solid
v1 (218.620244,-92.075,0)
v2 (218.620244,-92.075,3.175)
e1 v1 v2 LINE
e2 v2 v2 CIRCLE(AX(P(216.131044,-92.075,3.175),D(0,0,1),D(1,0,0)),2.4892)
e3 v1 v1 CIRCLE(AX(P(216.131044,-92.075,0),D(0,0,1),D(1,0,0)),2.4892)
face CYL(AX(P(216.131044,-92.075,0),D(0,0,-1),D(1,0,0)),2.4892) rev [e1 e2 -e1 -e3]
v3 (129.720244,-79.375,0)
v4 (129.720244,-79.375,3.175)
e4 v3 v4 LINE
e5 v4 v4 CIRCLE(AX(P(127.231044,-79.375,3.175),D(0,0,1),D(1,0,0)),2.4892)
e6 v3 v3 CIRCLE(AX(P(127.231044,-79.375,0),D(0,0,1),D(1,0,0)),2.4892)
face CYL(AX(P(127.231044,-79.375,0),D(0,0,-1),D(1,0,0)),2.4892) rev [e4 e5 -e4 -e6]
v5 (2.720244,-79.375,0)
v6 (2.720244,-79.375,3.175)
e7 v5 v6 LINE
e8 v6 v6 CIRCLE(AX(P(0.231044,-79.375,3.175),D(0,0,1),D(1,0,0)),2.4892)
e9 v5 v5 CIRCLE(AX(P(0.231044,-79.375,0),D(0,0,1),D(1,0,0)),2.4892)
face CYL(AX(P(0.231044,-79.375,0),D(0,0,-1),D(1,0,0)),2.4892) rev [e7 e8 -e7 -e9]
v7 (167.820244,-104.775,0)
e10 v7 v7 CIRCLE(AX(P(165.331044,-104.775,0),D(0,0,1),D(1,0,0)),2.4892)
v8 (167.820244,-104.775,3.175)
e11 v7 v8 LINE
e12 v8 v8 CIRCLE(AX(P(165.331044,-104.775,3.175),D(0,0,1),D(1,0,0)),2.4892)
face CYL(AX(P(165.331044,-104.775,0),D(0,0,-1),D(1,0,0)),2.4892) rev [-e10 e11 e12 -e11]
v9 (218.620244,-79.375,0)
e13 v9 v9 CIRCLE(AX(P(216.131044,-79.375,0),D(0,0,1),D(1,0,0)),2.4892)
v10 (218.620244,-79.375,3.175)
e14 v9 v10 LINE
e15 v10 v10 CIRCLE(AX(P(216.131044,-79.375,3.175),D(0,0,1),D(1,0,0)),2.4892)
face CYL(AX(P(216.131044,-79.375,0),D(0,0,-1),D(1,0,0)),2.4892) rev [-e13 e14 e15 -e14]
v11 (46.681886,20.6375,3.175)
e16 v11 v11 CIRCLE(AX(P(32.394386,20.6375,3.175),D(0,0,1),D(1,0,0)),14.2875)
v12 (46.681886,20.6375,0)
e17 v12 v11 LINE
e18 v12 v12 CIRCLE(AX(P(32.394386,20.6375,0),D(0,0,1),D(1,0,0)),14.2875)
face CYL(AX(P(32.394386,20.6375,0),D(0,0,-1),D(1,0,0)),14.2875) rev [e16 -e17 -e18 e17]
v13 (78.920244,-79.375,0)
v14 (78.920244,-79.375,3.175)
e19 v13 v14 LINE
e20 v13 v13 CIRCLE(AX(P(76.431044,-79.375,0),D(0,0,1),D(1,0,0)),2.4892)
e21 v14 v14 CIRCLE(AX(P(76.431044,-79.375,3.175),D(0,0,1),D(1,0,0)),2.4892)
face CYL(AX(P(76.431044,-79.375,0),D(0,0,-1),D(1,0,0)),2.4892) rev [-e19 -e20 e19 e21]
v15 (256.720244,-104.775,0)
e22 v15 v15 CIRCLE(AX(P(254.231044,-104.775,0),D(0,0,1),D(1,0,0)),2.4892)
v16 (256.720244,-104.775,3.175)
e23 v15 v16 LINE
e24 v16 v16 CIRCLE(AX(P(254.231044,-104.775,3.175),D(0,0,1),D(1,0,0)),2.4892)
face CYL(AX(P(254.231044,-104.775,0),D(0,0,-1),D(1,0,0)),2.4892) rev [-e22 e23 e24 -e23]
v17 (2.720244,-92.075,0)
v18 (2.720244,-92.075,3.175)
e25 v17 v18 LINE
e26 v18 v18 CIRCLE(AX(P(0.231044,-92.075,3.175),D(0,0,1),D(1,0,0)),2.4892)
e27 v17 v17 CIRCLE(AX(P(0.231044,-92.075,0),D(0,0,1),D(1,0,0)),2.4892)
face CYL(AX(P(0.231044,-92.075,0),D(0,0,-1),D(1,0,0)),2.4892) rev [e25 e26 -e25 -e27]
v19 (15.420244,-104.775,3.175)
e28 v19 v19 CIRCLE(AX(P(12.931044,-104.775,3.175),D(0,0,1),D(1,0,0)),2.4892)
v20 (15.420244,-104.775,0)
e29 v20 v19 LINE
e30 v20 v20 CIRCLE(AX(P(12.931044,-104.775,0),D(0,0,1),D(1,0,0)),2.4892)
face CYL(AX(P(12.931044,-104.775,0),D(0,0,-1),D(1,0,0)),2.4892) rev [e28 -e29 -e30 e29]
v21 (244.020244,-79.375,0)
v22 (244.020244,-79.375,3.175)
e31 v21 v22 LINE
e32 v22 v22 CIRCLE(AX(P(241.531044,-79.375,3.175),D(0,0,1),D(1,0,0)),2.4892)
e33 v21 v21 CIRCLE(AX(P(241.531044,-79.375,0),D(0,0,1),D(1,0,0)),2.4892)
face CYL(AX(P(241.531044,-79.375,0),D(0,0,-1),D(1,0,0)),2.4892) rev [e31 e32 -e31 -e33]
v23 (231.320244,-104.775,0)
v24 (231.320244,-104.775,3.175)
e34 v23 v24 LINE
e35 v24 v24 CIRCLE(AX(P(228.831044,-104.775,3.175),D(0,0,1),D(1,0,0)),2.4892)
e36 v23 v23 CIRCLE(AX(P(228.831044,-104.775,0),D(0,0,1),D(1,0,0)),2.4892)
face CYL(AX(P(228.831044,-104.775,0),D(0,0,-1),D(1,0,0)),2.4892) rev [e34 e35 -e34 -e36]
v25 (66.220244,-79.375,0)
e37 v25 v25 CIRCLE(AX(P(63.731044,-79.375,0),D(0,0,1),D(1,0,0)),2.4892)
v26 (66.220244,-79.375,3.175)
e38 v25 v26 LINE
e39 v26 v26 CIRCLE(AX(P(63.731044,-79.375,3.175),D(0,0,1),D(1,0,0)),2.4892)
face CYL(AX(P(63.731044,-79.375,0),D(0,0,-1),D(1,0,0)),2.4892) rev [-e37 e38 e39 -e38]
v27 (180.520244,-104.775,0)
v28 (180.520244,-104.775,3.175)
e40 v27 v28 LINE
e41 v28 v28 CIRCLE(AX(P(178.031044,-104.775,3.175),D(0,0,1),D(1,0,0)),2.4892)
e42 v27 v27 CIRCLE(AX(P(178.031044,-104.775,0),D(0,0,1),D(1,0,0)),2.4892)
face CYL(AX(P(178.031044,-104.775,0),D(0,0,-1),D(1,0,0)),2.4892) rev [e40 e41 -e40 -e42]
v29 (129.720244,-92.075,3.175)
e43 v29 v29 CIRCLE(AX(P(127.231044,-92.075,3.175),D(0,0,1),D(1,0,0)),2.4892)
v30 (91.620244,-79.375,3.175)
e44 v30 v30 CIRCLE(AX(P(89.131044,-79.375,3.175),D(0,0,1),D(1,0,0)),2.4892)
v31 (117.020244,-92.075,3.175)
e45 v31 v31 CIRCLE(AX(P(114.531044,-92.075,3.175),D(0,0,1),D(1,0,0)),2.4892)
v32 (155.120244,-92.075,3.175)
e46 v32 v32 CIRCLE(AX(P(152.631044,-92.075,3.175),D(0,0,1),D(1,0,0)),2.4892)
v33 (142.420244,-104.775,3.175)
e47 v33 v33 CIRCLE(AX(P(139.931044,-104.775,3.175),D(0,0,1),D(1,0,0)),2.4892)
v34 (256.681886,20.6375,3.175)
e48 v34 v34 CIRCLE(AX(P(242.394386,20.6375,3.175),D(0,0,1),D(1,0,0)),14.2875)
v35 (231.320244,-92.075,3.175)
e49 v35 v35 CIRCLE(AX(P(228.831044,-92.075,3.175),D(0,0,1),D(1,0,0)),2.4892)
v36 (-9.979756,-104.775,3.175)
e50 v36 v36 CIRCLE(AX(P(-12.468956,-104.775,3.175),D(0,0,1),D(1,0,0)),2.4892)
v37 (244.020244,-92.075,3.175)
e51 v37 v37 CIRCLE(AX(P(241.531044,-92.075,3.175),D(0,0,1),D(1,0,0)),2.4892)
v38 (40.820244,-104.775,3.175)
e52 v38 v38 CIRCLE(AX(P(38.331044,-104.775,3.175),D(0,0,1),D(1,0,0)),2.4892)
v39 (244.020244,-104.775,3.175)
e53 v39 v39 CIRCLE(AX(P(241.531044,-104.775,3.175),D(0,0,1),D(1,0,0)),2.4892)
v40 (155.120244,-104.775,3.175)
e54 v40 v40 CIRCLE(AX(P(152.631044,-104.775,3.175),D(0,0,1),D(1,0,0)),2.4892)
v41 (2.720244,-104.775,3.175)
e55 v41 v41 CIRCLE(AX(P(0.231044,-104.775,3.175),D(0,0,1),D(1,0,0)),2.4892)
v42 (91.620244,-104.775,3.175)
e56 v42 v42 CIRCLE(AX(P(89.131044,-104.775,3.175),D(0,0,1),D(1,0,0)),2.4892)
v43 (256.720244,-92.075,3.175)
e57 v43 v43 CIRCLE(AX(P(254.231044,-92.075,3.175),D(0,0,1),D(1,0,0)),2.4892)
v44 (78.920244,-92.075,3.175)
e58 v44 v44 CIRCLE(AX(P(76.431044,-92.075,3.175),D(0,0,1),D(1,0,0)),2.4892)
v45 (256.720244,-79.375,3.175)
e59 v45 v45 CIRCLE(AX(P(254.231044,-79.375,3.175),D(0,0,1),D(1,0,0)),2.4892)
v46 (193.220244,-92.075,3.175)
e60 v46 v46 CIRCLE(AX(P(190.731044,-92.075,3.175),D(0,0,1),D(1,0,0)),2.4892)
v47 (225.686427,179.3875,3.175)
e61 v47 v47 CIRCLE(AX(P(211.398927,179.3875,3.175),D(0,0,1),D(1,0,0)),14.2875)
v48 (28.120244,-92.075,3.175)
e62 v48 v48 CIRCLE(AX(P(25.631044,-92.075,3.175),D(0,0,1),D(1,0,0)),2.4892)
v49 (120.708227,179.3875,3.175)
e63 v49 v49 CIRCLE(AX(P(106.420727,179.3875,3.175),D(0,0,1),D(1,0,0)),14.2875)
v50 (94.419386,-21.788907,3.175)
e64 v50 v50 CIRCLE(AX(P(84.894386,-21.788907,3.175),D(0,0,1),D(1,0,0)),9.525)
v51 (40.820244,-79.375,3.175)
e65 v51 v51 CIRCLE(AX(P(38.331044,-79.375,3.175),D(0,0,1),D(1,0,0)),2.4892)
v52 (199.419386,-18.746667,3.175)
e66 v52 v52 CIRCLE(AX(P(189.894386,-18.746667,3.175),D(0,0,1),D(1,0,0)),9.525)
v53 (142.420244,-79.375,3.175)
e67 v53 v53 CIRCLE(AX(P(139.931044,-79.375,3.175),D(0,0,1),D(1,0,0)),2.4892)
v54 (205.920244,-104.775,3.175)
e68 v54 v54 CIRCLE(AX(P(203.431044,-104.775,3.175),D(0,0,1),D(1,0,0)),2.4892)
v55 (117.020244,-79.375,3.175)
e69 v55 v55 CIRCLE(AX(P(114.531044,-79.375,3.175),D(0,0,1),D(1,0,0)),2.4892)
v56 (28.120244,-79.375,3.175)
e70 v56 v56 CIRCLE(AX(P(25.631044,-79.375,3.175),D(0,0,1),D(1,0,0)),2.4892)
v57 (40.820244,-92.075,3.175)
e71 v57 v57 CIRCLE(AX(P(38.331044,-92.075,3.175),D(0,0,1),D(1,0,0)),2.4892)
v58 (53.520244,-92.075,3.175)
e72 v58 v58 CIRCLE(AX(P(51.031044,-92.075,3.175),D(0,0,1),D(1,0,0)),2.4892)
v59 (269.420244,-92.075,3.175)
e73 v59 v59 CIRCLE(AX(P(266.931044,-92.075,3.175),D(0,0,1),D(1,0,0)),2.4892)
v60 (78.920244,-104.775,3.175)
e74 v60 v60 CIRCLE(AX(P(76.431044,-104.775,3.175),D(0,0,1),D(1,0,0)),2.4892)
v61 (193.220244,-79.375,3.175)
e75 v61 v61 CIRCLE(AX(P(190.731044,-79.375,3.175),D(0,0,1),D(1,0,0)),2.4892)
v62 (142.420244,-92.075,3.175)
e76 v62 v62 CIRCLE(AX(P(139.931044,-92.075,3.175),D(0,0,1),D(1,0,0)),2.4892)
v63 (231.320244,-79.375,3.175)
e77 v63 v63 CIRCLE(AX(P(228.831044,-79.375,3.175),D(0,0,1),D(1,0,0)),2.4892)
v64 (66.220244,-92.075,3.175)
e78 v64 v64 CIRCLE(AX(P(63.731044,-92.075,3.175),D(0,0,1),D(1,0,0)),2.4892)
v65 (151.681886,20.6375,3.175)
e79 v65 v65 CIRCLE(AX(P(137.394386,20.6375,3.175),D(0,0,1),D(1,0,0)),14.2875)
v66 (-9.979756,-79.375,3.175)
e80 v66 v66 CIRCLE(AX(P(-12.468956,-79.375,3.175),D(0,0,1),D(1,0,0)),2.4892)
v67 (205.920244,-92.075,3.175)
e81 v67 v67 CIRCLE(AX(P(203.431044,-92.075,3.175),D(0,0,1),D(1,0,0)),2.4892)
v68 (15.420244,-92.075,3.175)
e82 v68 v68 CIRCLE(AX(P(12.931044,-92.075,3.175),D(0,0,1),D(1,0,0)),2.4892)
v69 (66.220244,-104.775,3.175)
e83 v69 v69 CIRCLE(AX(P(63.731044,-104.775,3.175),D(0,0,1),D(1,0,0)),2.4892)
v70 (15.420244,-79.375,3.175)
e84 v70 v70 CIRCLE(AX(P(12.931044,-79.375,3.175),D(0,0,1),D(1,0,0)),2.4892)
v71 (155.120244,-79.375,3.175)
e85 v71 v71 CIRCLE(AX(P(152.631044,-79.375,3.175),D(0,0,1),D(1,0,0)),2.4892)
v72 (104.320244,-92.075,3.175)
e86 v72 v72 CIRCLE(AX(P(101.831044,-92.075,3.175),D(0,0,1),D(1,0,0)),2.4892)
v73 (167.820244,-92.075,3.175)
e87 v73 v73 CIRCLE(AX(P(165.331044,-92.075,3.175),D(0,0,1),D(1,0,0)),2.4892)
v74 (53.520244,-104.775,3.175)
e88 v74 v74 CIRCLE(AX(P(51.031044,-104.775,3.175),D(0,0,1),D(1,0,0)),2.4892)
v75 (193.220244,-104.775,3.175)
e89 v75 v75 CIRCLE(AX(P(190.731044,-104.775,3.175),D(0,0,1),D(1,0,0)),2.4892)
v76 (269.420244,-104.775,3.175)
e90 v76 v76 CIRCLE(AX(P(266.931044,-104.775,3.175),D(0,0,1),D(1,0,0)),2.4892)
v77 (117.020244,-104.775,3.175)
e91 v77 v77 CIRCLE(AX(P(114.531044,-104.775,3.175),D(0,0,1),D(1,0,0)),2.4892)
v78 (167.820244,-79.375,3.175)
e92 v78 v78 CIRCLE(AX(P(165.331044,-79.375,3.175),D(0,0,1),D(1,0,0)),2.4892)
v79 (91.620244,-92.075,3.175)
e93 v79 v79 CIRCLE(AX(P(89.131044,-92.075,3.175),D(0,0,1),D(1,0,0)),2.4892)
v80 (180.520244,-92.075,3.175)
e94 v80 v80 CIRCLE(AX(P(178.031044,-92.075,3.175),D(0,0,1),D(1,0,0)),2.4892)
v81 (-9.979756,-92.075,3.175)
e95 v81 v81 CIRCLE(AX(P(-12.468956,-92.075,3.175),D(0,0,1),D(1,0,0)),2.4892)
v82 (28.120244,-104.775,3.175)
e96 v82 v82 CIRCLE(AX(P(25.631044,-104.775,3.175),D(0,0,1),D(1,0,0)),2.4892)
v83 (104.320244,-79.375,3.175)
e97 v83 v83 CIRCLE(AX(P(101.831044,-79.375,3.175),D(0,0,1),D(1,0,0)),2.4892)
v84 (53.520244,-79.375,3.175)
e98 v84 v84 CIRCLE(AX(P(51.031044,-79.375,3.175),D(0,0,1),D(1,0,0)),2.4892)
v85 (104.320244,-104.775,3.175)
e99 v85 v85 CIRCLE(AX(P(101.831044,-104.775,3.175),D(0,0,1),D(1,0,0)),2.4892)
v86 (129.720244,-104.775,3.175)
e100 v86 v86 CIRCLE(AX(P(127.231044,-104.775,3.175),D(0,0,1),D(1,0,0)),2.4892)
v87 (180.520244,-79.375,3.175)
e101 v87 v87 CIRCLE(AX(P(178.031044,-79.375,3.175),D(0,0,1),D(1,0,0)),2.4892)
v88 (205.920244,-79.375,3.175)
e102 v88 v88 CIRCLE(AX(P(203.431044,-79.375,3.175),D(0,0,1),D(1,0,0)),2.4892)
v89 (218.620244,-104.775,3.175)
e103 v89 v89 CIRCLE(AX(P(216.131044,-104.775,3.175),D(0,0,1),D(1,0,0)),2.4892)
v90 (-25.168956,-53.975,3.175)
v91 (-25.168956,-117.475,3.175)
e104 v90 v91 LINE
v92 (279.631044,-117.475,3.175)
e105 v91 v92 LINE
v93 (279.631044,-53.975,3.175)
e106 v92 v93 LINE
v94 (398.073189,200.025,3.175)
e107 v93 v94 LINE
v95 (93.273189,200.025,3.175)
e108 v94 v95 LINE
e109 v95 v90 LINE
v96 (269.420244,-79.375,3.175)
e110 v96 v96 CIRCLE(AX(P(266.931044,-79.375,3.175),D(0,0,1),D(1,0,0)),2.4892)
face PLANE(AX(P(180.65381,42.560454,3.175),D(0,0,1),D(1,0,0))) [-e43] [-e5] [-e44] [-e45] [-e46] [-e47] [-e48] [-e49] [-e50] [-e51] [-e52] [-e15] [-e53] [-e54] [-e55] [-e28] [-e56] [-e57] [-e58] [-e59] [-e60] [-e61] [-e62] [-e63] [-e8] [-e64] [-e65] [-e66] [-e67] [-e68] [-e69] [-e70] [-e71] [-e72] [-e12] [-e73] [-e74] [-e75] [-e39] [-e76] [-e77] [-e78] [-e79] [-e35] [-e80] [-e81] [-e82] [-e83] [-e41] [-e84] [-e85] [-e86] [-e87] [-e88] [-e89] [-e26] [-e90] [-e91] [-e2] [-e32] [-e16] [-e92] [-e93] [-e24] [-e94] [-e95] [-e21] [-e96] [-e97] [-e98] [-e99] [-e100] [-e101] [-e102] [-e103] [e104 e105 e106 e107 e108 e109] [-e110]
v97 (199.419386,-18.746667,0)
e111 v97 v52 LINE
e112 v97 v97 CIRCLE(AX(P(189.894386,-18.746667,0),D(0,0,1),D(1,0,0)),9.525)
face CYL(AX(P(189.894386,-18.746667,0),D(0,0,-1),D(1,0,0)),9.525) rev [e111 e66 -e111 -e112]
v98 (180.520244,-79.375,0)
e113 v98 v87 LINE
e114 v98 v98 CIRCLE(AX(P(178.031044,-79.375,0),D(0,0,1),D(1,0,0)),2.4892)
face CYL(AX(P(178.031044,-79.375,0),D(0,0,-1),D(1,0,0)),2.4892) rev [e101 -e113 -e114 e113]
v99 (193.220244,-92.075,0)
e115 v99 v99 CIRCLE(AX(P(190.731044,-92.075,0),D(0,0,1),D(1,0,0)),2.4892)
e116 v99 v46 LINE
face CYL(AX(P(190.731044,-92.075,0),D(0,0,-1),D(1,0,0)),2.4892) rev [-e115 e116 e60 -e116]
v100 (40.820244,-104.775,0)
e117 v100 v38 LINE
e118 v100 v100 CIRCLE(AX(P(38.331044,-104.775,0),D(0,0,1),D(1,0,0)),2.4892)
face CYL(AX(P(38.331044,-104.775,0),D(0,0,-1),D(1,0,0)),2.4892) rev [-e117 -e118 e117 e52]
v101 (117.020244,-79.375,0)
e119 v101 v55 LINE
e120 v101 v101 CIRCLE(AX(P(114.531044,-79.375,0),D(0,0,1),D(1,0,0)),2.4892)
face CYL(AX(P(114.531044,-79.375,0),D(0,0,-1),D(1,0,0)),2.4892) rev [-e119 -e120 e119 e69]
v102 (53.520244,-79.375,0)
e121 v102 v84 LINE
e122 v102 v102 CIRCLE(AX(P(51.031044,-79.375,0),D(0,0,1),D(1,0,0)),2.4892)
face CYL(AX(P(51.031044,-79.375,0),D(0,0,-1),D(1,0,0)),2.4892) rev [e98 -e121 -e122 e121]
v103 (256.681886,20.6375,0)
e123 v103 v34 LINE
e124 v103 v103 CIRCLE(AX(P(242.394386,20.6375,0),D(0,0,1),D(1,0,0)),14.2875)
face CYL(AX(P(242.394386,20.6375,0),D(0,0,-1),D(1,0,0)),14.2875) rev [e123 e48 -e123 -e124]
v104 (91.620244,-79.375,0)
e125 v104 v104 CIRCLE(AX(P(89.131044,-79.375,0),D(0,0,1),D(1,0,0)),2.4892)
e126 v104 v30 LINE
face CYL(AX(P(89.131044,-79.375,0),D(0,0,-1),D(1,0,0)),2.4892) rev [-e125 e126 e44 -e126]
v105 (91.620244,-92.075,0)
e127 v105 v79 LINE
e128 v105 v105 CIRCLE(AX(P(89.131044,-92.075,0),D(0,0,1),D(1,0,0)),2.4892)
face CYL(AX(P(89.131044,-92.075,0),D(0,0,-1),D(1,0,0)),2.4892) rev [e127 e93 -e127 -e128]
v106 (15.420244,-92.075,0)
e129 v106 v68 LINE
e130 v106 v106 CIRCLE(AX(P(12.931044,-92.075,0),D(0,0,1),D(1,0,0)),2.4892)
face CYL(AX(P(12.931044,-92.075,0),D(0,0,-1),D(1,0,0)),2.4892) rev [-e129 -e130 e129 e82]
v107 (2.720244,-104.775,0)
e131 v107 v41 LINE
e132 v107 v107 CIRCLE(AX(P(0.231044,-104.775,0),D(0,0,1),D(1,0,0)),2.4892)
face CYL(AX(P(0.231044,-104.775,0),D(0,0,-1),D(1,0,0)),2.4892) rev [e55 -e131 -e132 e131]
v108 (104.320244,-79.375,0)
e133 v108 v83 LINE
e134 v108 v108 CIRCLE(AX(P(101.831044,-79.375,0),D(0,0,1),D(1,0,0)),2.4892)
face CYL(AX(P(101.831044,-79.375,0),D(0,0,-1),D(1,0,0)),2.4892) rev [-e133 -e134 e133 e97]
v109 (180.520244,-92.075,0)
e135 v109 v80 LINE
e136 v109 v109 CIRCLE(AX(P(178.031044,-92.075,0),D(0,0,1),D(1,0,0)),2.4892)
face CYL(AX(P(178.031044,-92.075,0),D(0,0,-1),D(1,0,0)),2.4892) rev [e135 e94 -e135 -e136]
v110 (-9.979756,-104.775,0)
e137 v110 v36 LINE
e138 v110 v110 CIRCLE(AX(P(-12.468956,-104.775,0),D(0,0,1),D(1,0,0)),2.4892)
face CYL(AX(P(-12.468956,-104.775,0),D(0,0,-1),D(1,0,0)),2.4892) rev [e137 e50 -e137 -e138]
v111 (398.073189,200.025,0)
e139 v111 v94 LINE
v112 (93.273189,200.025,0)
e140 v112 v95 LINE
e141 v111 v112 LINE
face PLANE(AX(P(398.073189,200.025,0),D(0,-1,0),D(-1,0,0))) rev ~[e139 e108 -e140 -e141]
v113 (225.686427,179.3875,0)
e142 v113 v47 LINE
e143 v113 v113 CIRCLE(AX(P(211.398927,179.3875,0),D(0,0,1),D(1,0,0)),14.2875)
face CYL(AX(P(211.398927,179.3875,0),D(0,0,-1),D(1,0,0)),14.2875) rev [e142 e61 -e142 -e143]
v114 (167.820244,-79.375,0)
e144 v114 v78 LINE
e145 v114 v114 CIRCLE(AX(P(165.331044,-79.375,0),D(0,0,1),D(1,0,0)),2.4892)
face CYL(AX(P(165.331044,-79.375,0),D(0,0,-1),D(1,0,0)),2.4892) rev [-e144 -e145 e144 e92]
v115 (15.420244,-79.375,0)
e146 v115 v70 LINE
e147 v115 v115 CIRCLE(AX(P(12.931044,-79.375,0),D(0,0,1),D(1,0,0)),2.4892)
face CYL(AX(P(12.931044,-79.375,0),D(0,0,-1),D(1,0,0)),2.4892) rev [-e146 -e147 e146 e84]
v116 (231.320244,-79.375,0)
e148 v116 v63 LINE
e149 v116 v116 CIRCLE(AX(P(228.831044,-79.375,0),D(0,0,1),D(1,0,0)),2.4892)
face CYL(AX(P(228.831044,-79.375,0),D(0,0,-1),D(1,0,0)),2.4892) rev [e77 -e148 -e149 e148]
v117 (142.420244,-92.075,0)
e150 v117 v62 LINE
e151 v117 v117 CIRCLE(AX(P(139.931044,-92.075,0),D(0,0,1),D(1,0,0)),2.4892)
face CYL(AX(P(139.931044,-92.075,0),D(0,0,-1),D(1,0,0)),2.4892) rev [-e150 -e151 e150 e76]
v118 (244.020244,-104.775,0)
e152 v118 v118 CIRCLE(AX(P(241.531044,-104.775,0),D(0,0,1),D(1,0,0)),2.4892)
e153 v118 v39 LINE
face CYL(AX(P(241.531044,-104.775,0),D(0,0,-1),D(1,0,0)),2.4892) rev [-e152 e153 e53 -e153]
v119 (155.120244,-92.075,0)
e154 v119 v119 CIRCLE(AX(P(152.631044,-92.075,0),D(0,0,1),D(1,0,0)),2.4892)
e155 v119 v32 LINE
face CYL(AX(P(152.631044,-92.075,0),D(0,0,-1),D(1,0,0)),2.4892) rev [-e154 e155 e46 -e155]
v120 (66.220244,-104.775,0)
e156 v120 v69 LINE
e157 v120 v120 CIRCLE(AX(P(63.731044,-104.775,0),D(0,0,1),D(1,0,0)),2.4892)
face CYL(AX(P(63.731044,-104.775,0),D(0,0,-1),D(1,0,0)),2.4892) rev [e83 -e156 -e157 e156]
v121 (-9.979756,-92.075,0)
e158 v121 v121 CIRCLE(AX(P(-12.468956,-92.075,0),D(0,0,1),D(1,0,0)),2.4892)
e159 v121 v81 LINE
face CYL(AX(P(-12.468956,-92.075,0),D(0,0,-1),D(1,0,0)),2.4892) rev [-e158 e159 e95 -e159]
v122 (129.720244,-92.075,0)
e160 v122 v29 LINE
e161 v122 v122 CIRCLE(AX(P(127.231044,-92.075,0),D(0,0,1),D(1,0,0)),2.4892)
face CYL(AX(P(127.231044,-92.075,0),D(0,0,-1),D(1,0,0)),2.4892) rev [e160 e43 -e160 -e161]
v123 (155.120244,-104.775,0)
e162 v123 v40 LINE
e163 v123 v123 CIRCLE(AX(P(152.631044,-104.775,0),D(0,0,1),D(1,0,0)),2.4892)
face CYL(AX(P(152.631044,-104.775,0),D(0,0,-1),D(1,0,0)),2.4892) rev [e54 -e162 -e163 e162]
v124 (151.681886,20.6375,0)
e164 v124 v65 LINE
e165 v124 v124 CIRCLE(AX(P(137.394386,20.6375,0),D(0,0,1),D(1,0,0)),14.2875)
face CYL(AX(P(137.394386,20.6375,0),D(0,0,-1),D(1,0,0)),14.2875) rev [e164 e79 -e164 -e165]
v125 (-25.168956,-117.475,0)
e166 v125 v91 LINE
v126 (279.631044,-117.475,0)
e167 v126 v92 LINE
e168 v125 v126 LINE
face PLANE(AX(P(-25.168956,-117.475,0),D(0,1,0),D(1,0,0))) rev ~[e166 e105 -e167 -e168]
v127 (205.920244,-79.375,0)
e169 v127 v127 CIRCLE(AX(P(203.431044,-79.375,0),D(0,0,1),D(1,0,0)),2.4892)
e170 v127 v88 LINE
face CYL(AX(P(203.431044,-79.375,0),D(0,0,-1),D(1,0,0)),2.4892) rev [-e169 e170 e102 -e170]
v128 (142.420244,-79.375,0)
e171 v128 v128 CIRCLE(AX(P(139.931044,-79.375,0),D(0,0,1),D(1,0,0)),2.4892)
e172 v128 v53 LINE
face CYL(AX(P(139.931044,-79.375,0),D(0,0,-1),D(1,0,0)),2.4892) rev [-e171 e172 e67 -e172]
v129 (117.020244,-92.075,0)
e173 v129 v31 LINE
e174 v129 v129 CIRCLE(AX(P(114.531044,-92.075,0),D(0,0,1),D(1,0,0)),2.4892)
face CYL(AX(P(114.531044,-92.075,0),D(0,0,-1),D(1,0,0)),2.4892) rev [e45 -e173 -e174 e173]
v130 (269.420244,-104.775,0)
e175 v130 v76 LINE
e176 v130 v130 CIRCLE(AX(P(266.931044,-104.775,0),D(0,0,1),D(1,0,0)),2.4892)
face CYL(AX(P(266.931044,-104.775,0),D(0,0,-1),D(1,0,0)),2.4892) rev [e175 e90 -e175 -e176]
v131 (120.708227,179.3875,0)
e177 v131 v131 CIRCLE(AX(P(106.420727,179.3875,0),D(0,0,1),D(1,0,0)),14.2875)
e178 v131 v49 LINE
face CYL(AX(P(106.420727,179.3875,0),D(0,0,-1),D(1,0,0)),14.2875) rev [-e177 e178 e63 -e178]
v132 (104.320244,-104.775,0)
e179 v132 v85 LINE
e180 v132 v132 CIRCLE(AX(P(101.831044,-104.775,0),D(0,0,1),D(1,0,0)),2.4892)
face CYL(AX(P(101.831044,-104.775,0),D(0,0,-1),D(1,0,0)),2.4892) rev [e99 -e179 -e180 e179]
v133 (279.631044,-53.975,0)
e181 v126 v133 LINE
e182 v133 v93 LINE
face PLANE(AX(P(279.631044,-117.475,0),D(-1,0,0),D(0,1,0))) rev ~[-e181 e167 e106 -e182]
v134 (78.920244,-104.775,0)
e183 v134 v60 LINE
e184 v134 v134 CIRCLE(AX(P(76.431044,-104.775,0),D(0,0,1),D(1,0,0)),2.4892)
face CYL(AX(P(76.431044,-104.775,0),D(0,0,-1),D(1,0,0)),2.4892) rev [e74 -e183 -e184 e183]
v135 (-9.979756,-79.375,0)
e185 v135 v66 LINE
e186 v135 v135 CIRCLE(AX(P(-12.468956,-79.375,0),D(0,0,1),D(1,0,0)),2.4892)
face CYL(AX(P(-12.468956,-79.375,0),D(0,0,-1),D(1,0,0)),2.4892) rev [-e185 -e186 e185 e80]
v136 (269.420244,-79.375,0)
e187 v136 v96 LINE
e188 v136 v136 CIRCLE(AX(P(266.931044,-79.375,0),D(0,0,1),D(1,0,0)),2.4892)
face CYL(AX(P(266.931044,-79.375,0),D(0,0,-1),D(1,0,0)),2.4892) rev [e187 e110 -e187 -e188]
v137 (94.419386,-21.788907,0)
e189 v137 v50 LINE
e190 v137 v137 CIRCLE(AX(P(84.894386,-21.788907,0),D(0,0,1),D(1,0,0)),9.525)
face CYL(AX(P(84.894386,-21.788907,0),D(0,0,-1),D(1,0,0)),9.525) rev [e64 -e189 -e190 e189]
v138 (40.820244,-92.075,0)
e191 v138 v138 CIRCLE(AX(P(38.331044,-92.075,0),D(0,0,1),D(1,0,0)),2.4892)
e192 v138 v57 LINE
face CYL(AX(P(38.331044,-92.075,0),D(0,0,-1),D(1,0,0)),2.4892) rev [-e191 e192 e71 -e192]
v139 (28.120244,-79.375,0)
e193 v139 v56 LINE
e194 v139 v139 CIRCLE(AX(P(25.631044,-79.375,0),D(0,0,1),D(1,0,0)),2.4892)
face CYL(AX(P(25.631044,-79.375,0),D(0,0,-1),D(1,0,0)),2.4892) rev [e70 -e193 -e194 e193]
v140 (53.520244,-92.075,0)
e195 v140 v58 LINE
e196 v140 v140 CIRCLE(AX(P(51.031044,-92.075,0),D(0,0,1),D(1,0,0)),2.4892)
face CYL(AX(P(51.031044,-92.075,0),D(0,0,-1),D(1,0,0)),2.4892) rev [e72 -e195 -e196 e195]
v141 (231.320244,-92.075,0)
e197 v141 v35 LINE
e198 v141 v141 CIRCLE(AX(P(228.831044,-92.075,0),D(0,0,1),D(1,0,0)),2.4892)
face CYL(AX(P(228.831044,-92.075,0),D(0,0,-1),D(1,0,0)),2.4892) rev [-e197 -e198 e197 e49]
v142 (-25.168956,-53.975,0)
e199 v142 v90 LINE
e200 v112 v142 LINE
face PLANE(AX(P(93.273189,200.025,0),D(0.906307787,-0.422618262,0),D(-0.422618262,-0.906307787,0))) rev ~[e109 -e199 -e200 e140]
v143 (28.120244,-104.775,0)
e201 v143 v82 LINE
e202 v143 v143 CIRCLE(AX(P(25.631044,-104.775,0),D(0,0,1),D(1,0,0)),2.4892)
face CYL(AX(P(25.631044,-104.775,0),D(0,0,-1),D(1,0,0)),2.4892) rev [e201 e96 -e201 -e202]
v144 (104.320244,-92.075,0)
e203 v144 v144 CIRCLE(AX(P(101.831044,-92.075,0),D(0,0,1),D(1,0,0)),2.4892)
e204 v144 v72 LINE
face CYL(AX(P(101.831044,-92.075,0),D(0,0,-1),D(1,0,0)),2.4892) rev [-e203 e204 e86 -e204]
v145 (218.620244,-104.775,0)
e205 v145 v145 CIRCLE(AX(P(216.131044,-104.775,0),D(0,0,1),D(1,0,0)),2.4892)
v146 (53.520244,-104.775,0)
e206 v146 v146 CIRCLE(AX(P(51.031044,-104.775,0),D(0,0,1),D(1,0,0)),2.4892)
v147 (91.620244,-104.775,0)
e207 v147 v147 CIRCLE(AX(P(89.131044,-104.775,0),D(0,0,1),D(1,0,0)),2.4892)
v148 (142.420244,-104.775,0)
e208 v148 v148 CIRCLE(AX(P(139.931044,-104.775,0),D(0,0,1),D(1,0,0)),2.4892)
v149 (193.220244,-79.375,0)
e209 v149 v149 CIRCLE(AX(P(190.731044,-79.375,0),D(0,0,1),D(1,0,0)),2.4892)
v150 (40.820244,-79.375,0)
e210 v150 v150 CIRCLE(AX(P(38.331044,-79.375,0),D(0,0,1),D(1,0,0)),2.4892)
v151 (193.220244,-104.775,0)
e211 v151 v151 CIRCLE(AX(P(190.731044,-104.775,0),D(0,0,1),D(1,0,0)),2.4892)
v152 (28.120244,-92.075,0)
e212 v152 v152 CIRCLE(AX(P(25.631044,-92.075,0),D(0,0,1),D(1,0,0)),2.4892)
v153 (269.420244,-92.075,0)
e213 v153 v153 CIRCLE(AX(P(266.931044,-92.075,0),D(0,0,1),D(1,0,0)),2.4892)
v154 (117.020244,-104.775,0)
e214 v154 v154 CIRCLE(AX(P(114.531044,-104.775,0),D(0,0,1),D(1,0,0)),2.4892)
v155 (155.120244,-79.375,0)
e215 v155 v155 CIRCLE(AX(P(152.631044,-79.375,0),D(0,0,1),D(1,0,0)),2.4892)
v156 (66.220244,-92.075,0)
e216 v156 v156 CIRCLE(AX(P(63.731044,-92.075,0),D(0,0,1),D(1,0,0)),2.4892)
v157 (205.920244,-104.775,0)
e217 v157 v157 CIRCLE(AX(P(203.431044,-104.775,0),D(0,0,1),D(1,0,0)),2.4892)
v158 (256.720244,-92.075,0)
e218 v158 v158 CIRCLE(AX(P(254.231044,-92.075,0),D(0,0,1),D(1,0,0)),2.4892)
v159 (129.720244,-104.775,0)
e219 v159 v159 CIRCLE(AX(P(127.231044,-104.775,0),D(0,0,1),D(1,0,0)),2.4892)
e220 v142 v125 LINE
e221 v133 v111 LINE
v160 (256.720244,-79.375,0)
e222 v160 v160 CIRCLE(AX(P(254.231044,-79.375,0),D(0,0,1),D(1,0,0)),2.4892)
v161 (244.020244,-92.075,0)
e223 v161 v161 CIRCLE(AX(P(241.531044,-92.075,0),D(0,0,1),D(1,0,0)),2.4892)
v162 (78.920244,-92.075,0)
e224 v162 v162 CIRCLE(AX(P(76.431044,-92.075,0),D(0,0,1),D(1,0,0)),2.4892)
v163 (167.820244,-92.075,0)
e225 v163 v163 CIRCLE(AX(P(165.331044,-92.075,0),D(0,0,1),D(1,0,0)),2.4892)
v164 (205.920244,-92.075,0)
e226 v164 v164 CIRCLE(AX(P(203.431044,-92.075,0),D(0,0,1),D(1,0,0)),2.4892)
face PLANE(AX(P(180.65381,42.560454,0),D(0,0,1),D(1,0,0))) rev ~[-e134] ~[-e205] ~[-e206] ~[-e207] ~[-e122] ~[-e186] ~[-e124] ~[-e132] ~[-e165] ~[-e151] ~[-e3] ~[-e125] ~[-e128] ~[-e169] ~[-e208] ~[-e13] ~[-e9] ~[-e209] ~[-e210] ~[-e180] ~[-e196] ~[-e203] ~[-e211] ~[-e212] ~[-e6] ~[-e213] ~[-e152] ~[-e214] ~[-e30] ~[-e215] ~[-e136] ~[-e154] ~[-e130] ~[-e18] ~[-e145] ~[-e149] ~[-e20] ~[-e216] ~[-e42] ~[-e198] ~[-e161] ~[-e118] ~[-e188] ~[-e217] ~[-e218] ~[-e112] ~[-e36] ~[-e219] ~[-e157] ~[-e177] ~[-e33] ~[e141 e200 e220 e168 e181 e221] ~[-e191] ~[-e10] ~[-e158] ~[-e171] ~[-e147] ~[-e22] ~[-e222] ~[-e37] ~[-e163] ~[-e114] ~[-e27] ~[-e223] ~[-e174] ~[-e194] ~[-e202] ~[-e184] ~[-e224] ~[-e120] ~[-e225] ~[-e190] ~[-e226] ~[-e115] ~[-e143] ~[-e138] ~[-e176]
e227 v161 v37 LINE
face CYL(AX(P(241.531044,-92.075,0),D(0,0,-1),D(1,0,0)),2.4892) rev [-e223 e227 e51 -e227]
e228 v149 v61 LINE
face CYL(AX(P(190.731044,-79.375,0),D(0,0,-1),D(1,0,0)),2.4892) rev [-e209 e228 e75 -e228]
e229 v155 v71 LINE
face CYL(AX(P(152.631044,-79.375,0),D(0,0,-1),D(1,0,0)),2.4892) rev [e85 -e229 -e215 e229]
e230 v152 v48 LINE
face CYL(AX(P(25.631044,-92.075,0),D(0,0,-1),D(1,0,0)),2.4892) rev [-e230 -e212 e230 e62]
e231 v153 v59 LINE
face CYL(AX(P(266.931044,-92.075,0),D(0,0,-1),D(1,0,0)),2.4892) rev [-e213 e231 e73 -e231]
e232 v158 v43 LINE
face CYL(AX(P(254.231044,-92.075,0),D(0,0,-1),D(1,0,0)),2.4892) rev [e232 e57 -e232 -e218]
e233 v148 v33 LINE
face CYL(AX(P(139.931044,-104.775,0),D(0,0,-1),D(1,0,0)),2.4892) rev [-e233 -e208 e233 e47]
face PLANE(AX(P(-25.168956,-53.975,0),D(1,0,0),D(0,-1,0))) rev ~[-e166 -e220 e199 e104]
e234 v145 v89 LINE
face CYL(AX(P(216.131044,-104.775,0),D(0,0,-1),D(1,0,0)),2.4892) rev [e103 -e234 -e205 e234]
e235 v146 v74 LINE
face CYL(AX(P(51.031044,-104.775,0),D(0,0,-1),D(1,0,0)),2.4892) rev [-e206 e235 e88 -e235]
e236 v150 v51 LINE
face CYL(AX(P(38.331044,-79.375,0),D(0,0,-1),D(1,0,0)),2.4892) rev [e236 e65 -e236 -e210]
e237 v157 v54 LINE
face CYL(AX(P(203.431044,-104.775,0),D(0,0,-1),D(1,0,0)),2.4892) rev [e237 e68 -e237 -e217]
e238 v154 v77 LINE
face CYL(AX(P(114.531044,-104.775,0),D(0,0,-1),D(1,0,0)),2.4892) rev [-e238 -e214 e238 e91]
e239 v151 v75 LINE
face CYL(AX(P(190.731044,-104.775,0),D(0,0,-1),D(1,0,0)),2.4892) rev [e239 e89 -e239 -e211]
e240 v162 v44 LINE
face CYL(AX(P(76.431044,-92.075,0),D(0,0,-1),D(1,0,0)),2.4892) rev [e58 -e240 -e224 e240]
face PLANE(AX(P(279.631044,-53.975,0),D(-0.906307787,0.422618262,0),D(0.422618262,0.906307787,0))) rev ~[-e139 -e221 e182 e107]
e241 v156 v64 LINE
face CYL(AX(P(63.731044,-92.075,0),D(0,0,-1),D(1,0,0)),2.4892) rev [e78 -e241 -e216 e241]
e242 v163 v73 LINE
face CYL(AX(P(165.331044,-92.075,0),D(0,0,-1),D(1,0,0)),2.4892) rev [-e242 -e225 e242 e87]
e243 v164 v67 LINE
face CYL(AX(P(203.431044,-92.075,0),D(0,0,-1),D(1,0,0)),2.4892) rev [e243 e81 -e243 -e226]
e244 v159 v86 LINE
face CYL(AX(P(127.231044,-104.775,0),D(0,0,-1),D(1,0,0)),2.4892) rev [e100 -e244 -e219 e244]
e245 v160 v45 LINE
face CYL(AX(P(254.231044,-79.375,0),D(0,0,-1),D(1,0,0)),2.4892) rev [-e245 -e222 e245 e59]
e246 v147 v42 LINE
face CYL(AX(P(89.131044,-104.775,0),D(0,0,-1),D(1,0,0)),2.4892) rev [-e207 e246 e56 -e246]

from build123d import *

# Parameters (mm, degrees)
SKETCH1_R           = 14.2875
SKETCH1_R_2         = 9.525
SKETCH1_R_3         = 2.4892
BOSS_EXTRUDE3_DEPTH = 3.175


with BuildPart() as part:
    # Sketch1 → Boss-Extrude3 (new body)
    with BuildSketch(Plane.XY):
        Polygon((93.273189322, 200.025), (-25.168955849, -53.975), (-25.168955849, -117.475), (279.631044151, -117.475), (279.631044151, -53.975), (398.073189322, 200.025), align=None)
        with Locations((32.394386098, 20.6375)):
            Circle(SKETCH1_R, mode=Mode.SUBTRACT)
        with Locations((137.394386098, 20.6375)):
            Circle(SKETCH1_R, mode=Mode.SUBTRACT)
        with Locations((242.394386098, 20.6375)):
            Circle(SKETCH1_R, mode=Mode.SUBTRACT)
        with Locations((106.42072683, 179.3875)):
            Circle(SKETCH1_R, mode=Mode.SUBTRACT)
        with Locations((211.39892683, 179.3875)):
            Circle(SKETCH1_R, mode=Mode.SUBTRACT)
        with Locations((189.894386098, -18.746667191)):
            Circle(SKETCH1_R_2, mode=Mode.SUBTRACT)
        with Locations((84.894386098, -21.788906871)):
            Circle(SKETCH1_R_2, mode=Mode.SUBTRACT)
        with Locations((266.931044151, -79.375)):
            Circle(SKETCH1_R_3, mode=Mode.SUBTRACT)
        with Locations((-12.468955849, -104.775)):
            Circle(SKETCH1_R_3, mode=Mode.SUBTRACT)
        with Locations((0.231044151, -104.775)):
            Circle(SKETCH1_R_3, mode=Mode.SUBTRACT)
        with Locations((12.931044151, -104.775)):
            Circle(SKETCH1_R_3, mode=Mode.SUBTRACT)
        with Locations((25.631044151, -104.775)):
            Circle(SKETCH1_R_3, mode=Mode.SUBTRACT)
        with Locations((-12.468955849, -92.075)):
            Circle(SKETCH1_R_3, mode=Mode.SUBTRACT)
        with Locations((0.231044151, -92.075)):
            Circle(SKETCH1_R_3, mode=Mode.SUBTRACT)
        with Locations((-12.468955849, -79.375)):
            Circle(SKETCH1_R_3, mode=Mode.SUBTRACT)
        with Locations((0.231044151, -79.375)):
            Circle(SKETCH1_R_3, mode=Mode.SUBTRACT)
        with Locations((12.931044151, -92.075)):
            Circle(SKETCH1_R_3, mode=Mode.SUBTRACT)
        with Locations((25.631044151, -92.075)):
            Circle(SKETCH1_R_3, mode=Mode.SUBTRACT)
        with Locations((12.931044151, -79.375)):
            Circle(SKETCH1_R_3, mode=Mode.SUBTRACT)
        with Locations((25.631044151, -79.375)):
            Circle(SKETCH1_R_3, mode=Mode.SUBTRACT)
        with Locations((38.331044151, -104.775)):
            Circle(SKETCH1_R_3, mode=Mode.SUBTRACT)
        with Locations((51.031044151, -104.775)):
            Circle(SKETCH1_R_3, mode=Mode.SUBTRACT)
        with Locations((63.731044151, -104.775)):
            Circle(SKETCH1_R_3, mode=Mode.SUBTRACT)
        with Locations((76.431044151, -104.775)):
            Circle(SKETCH1_R_3, mode=Mode.SUBTRACT)
        with Locations((38.331044151, -92.075)):
            Circle(SKETCH1_R_3, mode=Mode.SUBTRACT)
        with Locations((51.031044151, -92.075)):
            Circle(SKETCH1_R_3, mode=Mode.SUBTRACT)
        with Locations((38.331044151, -79.375)):
            Circle(SKETCH1_R_3, mode=Mode.SUBTRACT)
        with Locations((51.031044151, -79.375)):
            Circle(SKETCH1_R_3, mode=Mode.SUBTRACT)
        with Locations((63.731044151, -92.075)):
            Circle(SKETCH1_R_3, mode=Mode.SUBTRACT)
        with Locations((76.431044151, -92.075)):
            Circle(SKETCH1_R_3, mode=Mode.SUBTRACT)
        with Locations((63.731044151, -79.375)):
            Circle(SKETCH1_R_3, mode=Mode.SUBTRACT)
        with Locations((76.431044151, -79.375)):
            Circle(SKETCH1_R_3, mode=Mode.SUBTRACT)
        with Locations((89.131044151, -104.775)):
            Circle(SKETCH1_R_3, mode=Mode.SUBTRACT)
        with Locations((101.831044151, -104.775)):
            Circle(SKETCH1_R_3, mode=Mode.SUBTRACT)
        with Locations((114.531044151, -104.775)):
            Circle(SKETCH1_R_3, mode=Mode.SUBTRACT)
        with Locations((127.231044151, -104.775)):
            Circle(SKETCH1_R_3, mode=Mode.SUBTRACT)
        with Locations((89.131044151, -92.075)):
            Circle(SKETCH1_R_3, mode=Mode.SUBTRACT)
        with Locations((101.831044151, -92.075)):
            Circle(SKETCH1_R_3, mode=Mode.SUBTRACT)
        with Locations((89.131044151, -79.375)):
            Circle(SKETCH1_R_3, mode=Mode.SUBTRACT)
        with Locations((101.831044151, -79.375)):
            Circle(SKETCH1_R_3, mode=Mode.SUBTRACT)
        with Locations((114.531044151, -92.075)):
            Circle(SKETCH1_R_3, mode=Mode.SUBTRACT)
        with Locations((127.231044151, -92.075)):
            Circle(SKETCH1_R_3, mode=Mode.SUBTRACT)
        with Locations((114.531044151, -79.375)):
            Circle(SKETCH1_R_3, mode=Mode.SUBTRACT)
        with Locations((127.231044151, -79.375)):
            Circle(SKETCH1_R_3, mode=Mode.SUBTRACT)
        with Locations((139.931044151, -104.775)):
            Circle(SKETCH1_R_3, mode=Mode.SUBTRACT)
        with Locations((152.631044151, -104.775)):
            Circle(SKETCH1_R_3, mode=Mode.SUBTRACT)
        with Locations((165.331044151, -104.775)):
            Circle(SKETCH1_R_3, mode=Mode.SUBTRACT)
        with Locations((178.031044151, -104.775)):
            Circle(SKETCH1_R_3, mode=Mode.SUBTRACT)
        with Locations((139.931044151, -92.075)):
            Circle(SKETCH1_R_3, mode=Mode.SUBTRACT)
        with Locations((152.631044151, -92.075)):
            Circle(SKETCH1_R_3, mode=Mode.SUBTRACT)
        with Locations((139.931044151, -79.375)):
            Circle(SKETCH1_R_3, mode=Mode.SUBTRACT)
        with Locations((152.631044151, -79.375)):
            Circle(SKETCH1_R_3, mode=Mode.SUBTRACT)
        with Locations((165.331044151, -92.075)):
            Circle(SKETCH1_R_3, mode=Mode.SUBTRACT)
        with Locations((178.031044151, -92.075)):
            Circle(SKETCH1_R_3, mode=Mode.SUBTRACT)
        with Locations((165.331044151, -79.375)):
            Circle(SKETCH1_R_3, mode=Mode.SUBTRACT)
        with Locations((178.031044151, -79.375)):
            Circle(SKETCH1_R_3, mode=Mode.SUBTRACT)
        with Locations((190.731044151, -104.775)):
            Circle(SKETCH1_R_3, mode=Mode.SUBTRACT)
        with Locations((203.431044151, -104.775)):
            Circle(SKETCH1_R_3, mode=Mode.SUBTRACT)
        with Locations((216.131044151, -104.775)):
            Circle(SKETCH1_R_3, mode=Mode.SUBTRACT)
        with Locations((228.831044151, -104.775)):
            Circle(SKETCH1_R_3, mode=Mode.SUBTRACT)
        with Locations((190.731044151, -92.075)):
            Circle(SKETCH1_R_3, mode=Mode.SUBTRACT)
        with Locations((203.431044151, -92.075)):
            Circle(SKETCH1_R_3, mode=Mode.SUBTRACT)
        with Locations((190.731044151, -79.375)):
            Circle(SKETCH1_R_3, mode=Mode.SUBTRACT)
        with Locations((203.431044151, -79.375)):
            Circle(SKETCH1_R_3, mode=Mode.SUBTRACT)
        with Locations((216.131044151, -92.075)):
            Circle(SKETCH1_R_3, mode=Mode.SUBTRACT)
        with Locations((228.831044151, -92.075)):
            Circle(SKETCH1_R_3, mode=Mode.SUBTRACT)
        with Locations((216.131044151, -79.375)):
            Circle(SKETCH1_R_3, mode=Mode.SUBTRACT)
        with Locations((228.831044151, -79.375)):
            Circle(SKETCH1_R_3, mode=Mode.SUBTRACT)
        with Locations((241.531044151, -104.775)):
            Circle(SKETCH1_R_3, mode=Mode.SUBTRACT)
        with Locations((254.231044151, -104.775)):
            Circle(SKETCH1_R_3, mode=Mode.SUBTRACT)
        with Locations((266.931044151, -104.775)):
            Circle(SKETCH1_R_3, mode=Mode.SUBTRACT)
        with Locations((241.531044151, -92.075)):
            Circle(SKETCH1_R_3, mode=Mode.SUBTRACT)
        with Locations((254.231044151, -92.075)):
            Circle(SKETCH1_R_3, mode=Mode.SUBTRACT)
        with Locations((241.531044151, -79.375)):
            Circle(SKETCH1_R_3, mode=Mode.SUBTRACT)
        with Locations((254.231044151, -79.375)):
            Circle(SKETCH1_R_3, mode=Mode.SUBTRACT)
        with Locations((266.931044151, -92.075)):
            Circle(SKETCH1_R_3, mode=Mode.SUBTRACT)
    extrude(amount=BOSS_EXTRUDE3_DEPTH)


solid = part.part
